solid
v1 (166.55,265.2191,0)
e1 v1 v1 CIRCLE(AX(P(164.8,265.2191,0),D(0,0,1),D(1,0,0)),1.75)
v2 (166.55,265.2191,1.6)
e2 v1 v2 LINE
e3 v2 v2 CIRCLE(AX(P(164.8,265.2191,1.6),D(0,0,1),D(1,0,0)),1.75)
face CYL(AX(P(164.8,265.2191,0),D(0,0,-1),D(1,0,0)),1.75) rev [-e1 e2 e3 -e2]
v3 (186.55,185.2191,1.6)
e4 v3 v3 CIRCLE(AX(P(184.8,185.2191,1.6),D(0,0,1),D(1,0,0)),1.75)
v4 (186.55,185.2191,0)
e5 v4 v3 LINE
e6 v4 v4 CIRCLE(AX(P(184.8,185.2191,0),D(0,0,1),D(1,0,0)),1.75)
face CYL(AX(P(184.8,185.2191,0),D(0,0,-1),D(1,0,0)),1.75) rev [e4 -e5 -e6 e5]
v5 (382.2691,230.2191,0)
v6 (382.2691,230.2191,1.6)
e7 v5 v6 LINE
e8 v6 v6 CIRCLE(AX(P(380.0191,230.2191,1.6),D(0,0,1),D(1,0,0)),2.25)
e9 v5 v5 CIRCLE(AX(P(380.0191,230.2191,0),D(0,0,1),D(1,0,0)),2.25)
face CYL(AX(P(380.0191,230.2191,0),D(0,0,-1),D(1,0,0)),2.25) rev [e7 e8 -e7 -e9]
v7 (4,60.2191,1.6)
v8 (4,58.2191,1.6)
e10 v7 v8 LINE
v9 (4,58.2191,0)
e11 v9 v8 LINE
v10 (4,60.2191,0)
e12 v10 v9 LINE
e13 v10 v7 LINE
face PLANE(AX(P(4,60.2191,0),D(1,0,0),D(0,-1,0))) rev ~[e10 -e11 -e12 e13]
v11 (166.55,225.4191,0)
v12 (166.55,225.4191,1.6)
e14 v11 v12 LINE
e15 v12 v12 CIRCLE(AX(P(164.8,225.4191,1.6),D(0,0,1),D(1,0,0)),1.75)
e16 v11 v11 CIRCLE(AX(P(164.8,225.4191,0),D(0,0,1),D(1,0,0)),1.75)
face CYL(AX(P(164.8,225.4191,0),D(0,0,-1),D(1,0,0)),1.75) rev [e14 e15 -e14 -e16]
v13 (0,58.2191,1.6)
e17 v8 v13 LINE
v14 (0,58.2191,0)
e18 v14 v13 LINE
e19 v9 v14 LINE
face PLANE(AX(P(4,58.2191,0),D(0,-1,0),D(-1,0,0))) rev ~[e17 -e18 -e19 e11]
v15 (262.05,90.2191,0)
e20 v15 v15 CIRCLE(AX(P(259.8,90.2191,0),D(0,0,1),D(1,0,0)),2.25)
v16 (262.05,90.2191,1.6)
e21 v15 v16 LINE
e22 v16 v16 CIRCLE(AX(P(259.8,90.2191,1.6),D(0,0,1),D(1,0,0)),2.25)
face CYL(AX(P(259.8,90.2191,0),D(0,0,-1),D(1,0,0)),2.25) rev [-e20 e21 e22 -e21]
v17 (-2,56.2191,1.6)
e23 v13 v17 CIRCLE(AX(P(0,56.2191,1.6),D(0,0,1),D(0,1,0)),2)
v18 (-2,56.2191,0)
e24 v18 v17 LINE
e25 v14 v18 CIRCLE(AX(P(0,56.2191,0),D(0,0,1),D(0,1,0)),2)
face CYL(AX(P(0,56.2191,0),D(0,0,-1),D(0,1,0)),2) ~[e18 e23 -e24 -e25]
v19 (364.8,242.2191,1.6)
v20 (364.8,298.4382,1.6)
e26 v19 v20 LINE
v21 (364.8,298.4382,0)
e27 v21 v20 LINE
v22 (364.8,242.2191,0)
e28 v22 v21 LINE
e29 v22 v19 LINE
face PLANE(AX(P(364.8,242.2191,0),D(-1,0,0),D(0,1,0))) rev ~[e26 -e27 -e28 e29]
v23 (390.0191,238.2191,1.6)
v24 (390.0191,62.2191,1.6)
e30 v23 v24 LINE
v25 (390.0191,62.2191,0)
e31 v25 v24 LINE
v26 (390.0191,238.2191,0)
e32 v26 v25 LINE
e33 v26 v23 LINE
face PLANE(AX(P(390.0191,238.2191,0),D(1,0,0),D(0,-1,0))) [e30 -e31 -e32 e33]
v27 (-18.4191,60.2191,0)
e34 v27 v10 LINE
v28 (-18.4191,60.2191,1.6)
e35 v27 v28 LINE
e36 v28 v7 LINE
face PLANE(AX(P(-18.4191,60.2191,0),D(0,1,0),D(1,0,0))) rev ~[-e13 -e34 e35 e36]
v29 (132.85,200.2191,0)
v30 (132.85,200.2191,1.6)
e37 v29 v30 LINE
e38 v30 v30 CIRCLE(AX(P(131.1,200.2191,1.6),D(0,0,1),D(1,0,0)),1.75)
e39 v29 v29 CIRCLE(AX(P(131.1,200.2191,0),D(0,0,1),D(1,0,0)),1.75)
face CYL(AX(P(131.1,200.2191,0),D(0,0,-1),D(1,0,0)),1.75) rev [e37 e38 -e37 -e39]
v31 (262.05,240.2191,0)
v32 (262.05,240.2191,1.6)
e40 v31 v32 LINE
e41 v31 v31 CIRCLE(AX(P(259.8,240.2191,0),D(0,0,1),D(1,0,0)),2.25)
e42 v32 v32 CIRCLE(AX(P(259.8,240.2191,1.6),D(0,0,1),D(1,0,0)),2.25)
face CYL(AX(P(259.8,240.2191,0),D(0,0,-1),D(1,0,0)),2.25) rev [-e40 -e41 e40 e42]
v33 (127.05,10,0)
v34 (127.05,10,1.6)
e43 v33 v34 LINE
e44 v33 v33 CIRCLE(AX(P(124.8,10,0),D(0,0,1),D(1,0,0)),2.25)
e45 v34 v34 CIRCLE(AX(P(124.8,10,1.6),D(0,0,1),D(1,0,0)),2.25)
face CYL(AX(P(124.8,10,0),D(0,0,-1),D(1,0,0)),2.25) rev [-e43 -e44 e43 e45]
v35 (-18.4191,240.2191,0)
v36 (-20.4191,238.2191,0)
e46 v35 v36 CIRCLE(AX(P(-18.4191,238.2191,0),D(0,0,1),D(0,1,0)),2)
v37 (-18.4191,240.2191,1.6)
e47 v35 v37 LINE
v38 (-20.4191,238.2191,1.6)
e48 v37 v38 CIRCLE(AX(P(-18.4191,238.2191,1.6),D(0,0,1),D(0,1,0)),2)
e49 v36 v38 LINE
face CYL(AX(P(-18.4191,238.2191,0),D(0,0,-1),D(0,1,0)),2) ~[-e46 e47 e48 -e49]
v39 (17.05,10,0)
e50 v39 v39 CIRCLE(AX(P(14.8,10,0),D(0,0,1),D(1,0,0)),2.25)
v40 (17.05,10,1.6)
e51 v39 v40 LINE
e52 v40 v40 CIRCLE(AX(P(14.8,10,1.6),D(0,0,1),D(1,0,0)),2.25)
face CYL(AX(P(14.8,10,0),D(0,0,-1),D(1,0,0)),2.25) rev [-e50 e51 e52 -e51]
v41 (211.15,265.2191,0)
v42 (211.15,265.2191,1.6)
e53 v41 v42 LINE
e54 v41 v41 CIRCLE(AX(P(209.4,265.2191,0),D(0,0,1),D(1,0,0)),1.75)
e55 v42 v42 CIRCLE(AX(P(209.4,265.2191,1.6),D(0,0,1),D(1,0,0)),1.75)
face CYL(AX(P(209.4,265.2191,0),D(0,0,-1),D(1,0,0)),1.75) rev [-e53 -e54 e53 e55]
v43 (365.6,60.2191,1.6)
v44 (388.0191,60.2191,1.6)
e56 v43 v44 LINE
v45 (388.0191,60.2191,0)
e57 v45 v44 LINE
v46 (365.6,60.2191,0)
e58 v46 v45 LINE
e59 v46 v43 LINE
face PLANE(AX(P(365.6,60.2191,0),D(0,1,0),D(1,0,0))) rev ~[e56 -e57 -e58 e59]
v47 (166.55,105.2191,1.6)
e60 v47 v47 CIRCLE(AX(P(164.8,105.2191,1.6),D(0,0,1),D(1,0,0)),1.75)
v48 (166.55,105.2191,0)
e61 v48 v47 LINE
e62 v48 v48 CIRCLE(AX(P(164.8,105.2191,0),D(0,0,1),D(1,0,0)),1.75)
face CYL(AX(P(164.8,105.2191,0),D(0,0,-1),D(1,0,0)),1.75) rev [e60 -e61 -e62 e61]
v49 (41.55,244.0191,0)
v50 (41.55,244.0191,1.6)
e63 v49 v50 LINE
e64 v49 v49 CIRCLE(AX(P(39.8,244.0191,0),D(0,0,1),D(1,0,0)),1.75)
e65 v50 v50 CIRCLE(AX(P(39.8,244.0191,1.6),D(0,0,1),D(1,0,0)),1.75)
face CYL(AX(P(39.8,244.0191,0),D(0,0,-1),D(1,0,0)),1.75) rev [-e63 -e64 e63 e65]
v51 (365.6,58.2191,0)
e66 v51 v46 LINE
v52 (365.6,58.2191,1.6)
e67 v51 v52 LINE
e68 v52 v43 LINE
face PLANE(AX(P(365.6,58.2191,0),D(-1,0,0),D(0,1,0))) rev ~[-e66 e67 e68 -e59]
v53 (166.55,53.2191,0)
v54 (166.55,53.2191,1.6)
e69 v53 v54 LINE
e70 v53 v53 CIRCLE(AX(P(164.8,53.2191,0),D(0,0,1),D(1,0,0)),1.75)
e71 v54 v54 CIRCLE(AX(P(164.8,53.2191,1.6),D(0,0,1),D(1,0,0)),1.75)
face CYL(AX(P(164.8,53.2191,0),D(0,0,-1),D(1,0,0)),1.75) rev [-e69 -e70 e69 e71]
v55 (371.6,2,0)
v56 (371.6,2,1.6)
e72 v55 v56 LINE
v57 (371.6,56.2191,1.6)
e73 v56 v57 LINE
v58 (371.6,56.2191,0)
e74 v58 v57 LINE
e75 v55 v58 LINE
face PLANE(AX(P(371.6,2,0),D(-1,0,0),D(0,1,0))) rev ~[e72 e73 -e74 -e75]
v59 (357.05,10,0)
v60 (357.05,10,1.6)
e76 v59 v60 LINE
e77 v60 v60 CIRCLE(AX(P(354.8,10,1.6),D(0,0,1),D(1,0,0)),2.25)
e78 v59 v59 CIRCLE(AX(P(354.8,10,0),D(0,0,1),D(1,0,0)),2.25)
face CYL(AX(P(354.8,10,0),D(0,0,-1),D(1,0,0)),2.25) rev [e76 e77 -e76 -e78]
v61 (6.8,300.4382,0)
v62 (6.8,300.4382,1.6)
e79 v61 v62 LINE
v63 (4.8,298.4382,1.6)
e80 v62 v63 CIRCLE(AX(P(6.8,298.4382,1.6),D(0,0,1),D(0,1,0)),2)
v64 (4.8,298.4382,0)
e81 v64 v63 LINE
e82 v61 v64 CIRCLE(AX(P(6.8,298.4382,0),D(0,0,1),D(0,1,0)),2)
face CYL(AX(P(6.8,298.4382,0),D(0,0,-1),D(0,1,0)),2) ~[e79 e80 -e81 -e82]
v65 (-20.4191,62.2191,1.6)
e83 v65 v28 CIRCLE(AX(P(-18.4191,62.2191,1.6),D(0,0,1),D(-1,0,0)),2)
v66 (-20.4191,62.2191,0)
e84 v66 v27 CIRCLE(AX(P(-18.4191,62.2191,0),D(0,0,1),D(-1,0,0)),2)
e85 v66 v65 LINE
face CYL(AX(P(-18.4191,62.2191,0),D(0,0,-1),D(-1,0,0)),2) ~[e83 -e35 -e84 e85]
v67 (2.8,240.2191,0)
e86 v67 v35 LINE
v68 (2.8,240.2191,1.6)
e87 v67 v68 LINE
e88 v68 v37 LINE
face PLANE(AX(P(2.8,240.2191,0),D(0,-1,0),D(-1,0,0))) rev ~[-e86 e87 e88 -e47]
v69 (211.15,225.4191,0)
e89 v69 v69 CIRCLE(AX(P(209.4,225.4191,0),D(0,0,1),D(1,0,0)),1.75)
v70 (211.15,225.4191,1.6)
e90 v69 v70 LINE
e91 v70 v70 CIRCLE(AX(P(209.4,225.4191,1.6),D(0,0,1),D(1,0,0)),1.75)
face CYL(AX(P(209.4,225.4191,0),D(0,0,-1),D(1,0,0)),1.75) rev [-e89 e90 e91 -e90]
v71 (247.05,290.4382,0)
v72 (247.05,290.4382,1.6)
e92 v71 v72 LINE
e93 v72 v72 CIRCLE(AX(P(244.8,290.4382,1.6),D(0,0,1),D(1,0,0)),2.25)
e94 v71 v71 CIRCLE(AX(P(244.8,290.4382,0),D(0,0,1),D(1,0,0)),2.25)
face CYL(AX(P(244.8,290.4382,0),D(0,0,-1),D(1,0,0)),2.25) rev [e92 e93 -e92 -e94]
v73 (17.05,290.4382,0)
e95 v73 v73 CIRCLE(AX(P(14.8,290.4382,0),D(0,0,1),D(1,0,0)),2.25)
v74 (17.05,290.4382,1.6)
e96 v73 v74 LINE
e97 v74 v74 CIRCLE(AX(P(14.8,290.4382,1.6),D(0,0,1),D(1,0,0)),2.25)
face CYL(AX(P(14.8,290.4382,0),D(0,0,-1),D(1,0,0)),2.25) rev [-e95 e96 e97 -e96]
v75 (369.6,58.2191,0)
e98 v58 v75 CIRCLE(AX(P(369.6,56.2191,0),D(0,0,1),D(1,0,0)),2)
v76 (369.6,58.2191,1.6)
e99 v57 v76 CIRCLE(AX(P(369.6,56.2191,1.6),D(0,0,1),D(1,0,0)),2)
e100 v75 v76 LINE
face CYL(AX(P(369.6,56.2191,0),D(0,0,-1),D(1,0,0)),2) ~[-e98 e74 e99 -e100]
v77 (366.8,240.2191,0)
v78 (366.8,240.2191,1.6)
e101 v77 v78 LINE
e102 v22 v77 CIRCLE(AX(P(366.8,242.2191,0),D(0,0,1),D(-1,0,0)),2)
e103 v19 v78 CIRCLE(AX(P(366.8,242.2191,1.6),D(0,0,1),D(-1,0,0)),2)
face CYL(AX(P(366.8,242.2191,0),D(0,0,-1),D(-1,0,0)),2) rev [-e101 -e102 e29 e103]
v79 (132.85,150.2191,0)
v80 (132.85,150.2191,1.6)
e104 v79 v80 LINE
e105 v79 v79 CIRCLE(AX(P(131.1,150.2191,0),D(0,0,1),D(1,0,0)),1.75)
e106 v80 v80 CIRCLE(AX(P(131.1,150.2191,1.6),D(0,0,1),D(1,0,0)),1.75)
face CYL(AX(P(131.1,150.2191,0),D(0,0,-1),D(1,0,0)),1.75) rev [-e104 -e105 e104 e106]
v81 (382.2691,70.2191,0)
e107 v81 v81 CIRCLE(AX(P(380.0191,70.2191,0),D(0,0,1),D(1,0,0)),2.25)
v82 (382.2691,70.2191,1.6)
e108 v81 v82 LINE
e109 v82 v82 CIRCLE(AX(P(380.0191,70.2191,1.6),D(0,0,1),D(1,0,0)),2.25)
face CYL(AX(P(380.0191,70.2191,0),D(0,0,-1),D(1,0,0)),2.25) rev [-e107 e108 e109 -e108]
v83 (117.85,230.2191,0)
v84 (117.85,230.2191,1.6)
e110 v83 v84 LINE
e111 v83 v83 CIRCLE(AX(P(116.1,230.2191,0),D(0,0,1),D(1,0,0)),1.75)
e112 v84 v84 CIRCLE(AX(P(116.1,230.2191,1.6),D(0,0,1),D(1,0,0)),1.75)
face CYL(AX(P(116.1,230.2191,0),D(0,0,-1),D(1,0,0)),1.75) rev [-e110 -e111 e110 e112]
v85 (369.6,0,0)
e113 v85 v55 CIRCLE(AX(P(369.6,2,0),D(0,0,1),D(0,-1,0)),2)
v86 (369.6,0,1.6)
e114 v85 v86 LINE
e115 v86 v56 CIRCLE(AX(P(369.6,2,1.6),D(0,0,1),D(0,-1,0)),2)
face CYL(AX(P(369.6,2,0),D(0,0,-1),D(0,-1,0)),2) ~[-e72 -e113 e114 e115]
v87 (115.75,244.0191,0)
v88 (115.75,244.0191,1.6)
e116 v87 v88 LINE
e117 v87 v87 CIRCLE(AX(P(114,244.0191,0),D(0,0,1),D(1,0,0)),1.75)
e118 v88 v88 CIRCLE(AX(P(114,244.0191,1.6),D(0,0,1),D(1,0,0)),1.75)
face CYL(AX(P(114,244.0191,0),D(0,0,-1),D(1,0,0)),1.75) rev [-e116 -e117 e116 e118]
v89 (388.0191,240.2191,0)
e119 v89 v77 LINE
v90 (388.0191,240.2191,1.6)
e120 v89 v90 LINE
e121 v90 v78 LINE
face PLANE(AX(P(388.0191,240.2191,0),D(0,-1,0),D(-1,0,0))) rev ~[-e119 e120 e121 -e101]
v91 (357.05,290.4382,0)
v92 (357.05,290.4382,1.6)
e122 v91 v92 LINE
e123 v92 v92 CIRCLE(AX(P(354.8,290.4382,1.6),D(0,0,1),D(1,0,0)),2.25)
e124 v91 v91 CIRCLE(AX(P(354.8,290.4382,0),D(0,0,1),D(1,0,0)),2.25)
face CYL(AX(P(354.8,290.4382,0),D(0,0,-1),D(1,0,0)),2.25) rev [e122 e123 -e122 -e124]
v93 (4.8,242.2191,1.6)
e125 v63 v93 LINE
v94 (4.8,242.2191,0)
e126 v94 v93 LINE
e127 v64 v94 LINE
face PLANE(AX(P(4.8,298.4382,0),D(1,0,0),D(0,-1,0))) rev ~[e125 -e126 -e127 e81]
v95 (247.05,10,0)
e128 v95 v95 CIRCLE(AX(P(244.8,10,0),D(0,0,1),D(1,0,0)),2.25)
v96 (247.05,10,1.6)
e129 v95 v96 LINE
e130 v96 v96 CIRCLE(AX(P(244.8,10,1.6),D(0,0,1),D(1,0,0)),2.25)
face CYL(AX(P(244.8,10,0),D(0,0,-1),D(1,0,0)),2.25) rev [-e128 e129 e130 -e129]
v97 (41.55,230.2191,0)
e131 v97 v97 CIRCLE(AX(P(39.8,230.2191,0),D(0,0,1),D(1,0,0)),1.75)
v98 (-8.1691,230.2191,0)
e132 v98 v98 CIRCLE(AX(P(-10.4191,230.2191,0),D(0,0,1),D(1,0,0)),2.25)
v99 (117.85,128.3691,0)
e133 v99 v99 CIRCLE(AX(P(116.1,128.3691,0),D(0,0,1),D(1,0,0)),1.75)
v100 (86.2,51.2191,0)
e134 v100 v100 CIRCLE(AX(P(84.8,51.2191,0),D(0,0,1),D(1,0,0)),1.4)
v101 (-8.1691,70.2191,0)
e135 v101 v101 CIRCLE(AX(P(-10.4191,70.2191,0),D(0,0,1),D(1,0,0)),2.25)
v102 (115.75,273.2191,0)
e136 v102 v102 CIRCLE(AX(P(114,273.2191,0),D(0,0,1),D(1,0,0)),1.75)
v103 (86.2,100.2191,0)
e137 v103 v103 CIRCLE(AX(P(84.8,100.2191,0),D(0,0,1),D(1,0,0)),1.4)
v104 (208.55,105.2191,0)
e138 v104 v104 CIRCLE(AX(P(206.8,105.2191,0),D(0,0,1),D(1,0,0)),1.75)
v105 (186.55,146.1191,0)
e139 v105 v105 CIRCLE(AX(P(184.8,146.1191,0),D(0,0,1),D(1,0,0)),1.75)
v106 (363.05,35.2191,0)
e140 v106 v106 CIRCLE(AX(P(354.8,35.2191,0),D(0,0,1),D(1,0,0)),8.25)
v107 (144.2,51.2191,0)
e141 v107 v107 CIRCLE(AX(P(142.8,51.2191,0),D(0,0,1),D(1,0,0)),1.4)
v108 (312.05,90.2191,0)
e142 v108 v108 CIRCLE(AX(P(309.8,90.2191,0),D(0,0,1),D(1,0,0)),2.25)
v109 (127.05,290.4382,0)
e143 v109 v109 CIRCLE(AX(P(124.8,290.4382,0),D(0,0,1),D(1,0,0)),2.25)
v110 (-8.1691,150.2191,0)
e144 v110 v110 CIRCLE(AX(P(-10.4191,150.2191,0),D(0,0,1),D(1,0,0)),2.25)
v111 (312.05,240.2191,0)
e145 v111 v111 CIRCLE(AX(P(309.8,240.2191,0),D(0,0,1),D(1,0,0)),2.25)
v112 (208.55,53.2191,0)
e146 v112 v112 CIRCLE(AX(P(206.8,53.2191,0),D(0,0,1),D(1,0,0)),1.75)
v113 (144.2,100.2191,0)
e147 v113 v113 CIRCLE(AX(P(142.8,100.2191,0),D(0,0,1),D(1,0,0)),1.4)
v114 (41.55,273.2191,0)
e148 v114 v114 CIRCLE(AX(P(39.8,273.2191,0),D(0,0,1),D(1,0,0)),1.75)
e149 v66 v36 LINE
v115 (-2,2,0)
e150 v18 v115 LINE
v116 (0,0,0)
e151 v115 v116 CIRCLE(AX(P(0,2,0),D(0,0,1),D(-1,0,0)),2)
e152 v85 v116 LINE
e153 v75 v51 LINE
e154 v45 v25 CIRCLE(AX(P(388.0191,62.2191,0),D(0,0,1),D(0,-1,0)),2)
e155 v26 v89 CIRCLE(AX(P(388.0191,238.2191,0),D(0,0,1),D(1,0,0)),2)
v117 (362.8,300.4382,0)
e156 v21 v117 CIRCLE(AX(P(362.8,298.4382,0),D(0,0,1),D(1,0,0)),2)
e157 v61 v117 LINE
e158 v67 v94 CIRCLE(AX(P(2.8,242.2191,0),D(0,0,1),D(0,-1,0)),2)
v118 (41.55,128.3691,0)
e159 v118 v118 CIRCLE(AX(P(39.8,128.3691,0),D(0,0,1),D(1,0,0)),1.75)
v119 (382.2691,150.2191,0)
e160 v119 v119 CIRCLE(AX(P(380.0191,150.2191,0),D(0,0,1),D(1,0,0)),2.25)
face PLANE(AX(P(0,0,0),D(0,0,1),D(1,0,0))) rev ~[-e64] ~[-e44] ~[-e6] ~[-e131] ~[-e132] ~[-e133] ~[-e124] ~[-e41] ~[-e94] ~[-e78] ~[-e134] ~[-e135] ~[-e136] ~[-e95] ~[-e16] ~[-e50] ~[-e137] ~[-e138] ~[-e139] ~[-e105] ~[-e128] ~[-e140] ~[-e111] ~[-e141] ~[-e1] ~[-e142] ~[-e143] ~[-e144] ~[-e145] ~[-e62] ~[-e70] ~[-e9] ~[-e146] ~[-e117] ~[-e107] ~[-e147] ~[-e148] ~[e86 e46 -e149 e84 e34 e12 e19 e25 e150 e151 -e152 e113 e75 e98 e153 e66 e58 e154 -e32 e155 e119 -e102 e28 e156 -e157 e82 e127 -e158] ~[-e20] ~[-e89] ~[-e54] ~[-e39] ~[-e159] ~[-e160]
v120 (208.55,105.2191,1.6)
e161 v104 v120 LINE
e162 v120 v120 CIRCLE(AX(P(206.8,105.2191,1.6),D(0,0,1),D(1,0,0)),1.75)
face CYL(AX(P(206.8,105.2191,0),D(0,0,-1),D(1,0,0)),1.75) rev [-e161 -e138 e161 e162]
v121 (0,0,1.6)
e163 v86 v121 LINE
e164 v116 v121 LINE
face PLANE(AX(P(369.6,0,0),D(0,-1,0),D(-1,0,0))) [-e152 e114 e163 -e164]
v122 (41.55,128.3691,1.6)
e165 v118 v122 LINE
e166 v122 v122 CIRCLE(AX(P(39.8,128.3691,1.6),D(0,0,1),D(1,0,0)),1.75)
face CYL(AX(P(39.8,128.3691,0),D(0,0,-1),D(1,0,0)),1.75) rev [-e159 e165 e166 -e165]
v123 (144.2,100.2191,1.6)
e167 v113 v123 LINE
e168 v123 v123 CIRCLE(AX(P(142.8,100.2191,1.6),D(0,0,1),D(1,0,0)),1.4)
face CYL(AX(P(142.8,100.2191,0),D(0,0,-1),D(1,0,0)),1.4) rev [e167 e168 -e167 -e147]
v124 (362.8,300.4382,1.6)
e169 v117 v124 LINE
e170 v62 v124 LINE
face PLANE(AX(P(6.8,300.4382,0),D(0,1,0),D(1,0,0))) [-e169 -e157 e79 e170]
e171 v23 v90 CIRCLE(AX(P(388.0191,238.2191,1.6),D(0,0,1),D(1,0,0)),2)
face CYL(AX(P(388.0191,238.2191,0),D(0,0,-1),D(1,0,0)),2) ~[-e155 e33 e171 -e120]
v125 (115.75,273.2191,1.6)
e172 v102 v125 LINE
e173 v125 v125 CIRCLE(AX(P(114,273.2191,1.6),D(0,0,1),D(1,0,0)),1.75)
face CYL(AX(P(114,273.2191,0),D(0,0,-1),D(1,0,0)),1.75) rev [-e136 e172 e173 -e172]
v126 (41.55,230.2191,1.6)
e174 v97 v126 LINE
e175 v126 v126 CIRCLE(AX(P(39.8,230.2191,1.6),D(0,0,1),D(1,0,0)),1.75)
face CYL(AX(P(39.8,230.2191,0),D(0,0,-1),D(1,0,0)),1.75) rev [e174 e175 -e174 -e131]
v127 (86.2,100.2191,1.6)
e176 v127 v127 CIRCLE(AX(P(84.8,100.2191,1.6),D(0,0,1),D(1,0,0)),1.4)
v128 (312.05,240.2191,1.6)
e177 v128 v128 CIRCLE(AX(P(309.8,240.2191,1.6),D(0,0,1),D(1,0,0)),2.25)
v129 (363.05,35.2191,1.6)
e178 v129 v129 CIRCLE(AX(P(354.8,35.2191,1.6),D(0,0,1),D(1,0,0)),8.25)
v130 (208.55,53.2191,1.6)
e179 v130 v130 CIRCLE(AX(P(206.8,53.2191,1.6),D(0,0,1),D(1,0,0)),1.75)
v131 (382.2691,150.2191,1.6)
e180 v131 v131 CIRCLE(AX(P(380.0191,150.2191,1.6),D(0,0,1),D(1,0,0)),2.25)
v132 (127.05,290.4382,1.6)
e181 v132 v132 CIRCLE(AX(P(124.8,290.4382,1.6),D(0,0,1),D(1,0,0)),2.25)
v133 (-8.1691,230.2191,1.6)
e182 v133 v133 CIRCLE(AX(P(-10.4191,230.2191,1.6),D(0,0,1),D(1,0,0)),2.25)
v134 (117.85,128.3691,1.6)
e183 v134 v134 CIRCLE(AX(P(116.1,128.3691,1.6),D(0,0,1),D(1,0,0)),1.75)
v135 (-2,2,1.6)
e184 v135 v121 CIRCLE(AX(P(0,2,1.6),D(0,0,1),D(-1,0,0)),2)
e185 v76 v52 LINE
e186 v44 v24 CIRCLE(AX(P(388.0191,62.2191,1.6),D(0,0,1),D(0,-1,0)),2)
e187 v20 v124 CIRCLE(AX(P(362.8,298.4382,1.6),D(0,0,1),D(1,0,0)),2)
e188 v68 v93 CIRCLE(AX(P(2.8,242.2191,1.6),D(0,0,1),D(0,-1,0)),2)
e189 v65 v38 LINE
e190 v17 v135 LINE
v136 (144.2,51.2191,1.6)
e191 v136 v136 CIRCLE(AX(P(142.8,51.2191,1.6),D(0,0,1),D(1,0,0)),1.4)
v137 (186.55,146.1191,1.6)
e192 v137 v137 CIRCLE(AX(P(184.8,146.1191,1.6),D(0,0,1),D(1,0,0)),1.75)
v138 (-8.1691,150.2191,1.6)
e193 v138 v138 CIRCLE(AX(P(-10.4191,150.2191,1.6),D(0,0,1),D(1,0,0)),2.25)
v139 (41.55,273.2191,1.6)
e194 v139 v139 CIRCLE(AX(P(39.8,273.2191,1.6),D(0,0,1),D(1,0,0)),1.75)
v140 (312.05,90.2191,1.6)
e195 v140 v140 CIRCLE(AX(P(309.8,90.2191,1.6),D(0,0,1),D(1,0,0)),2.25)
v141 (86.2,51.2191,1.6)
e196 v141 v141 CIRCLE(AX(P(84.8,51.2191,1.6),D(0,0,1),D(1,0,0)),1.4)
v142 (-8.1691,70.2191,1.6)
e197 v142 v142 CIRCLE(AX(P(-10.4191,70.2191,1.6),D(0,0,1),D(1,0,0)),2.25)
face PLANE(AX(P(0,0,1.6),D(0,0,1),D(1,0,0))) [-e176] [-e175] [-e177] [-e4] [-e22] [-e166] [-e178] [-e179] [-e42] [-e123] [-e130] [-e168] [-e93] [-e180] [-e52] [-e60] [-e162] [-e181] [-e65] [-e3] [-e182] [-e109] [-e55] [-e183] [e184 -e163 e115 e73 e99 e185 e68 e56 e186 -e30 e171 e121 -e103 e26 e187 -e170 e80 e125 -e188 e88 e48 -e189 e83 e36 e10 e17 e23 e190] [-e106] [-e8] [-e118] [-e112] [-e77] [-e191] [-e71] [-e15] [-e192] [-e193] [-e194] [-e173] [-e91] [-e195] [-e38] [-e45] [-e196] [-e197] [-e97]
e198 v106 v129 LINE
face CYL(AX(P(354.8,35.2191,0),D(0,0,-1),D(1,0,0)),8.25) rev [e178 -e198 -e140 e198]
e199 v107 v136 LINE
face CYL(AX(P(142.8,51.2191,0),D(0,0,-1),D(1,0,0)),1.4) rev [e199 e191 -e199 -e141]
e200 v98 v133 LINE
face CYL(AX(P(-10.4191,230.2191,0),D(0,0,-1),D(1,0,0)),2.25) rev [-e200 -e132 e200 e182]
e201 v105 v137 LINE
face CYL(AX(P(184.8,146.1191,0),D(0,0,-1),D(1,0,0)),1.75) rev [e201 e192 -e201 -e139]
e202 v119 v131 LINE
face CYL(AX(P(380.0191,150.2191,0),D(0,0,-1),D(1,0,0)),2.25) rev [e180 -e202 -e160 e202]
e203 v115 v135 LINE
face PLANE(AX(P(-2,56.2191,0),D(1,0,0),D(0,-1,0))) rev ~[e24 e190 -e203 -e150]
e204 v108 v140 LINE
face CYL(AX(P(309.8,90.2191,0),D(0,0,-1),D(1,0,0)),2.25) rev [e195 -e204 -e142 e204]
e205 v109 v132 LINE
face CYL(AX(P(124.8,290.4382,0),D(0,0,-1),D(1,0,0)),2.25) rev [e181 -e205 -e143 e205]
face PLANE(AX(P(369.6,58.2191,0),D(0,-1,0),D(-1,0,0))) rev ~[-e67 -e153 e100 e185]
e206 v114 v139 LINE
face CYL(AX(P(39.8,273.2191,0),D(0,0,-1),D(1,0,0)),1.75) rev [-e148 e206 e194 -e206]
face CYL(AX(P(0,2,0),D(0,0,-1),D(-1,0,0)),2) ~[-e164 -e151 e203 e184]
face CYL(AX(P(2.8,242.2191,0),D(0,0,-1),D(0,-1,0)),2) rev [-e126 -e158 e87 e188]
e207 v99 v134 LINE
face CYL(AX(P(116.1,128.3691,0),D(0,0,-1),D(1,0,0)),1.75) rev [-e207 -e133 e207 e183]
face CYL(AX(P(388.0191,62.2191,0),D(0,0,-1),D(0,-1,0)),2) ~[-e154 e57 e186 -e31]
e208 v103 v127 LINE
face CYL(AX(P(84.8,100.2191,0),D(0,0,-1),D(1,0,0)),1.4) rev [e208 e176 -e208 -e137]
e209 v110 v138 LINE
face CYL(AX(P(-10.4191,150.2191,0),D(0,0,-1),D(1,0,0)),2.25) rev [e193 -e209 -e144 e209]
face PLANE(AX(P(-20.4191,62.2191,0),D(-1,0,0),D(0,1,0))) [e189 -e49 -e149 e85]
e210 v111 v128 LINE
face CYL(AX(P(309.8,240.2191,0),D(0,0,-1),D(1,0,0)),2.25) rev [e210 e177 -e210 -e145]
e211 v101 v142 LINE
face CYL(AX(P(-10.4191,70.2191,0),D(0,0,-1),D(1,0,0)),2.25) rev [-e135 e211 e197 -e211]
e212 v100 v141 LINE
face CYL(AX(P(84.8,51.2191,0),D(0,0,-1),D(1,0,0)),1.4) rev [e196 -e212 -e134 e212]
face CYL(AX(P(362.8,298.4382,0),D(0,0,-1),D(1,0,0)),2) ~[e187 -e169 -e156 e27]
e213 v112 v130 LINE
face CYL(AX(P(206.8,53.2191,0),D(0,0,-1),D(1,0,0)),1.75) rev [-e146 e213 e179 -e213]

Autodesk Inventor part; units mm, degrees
ref_plane "YZ Plane" through (0, 0, 0) normal (1, 0, 0) x (0, 1, 0)
ref_plane "XZ Plane" through (0, 0, 0) normal (0, 1, 0) x (-1, 0, 0)
ref_plane "XY Plane" through (0, 0, 0) normal (0, 0, 1) x (1, 0, 0)
sketch "スケッチ1" plane through (0, 0, 0) normal (0, 0, 1) x (1, 0, 0)
  circle A0 centre (380.0191, 230.2191) radius 2.25
  circle A1 centre (380.0191, 70.2191) radius 2.25
  circle A2 centre (380.0191, 150.2191) radius 2.25
  circle A3 centre (124.8, 290.4382) radius 2.25
  circle A4 centre (14.8, 290.4382) radius 2.25
  circle A5 centre (354.8, 290.4382) radius 2.25
  circle A6 centre (244.8, 290.4382) radius 2.25
  circle A7 centre (259.8, 240.2191) radius 2.25
  circle A8 centre (259.8, 90.2191) radius 2.25
  circle A9 centre (309.8, 90.2191) radius 2.25
  circle A10 centre (309.8, 240.2191) radius 2.25
  circle A11 centre (116.1, 128.3691) radius 1.75
  circle A12 centre (39.8, 230.2191) radius 1.75
  circle A13 centre (116.1, 230.2191) radius 1.75
  circle A14 centre (39.8, 128.3691) radius 1.75
  circle A15 centre (131.1, 150.2191) radius 1.75
  circle A16 centre (131.1, 200.2191) radius 1.75
  circle A17 centre (164.8, 105.2191) radius 1.75
  circle A18 centre (206.8, 53.2191) radius 1.75
  circle A19 centre (206.8, 105.2191) radius 1.75
  circle A20 centre (164.8, 53.2191) radius 1.75
  circle A21 centre (209.4, 265.2191) radius 1.75
  circle A22 centre (164.8, 225.4191) radius 1.75
  circle A23 centre (164.8, 265.2191) radius 1.75
  circle A24 centre (209.4, 225.4191) radius 1.75
  circle A25 centre (84.8, 51.2191) radius 1.4
  circle A26 centre (142.8, 51.2191) radius 1.4
  circle A27 centre (142.8, 100.2191) radius 1.4
  circle A28 centre (84.8, 100.2191) radius 1.4
  circle A29 centre (39.8, 273.2191) radius 1.75
  circle A30 centre (114, 244.0191) radius 1.75
  circle A31 centre (114, 273.2191) radius 1.75
  circle A32 centre (39.8, 244.0191) radius 1.75
  circle A33 centre (184.8, 146.1191) radius 1.75
  circle A34 centre (184.8, 185.2191) radius 1.75
  circle A35 centre (354.8, 35.2191) radius 8.25
  circle A36 centre (-10.4191, 150.2191) radius 2.25
  circle A37 centre (-10.4191, 70.2191) radius 2.25
  circle A38 centre (-10.4191, 230.2191) radius 2.25
  circle A39 centre (244.8, 10) radius 2.25
  circle A40 centre (354.8, 10) radius 2.25
  circle A41 centre (14.8, 10) radius 2.25
  circle A42 centre (124.8, 10) radius 2.25
  arc A43 (-2, 2) -> (0, 0) centre (0, 2) ccw
  line L0 (369.6, 0) -> (0, 0)
  arc A44 (369.6, 0) -> (371.6, 2) centre (369.6, 2) ccw
  line L1 (371.6, 2) -> (371.6, 56.2191)
  arc A45 (371.6, 56.2191) -> (369.6, 58.2191) centre (369.6, 56.2191) ccw
  line L2 (369.6, 58.2191) -> (365.6, 58.2191)
  line L3 (365.6, 58.2191) -> (365.6, 60.2191)
  line L4 (365.6, 60.2191) -> (388.0191, 60.2191)
  arc A46 (388.0191, 60.2191) -> (390.0191, 62.2191) centre (388.0191, 62.2191) ccw
  line L5 (390.0191, 238.2191) -> (390.0191, 62.2191)
  arc A47 (390.0191, 238.2191) -> (388.0191, 240.2191) centre (388.0191, 238.2191) ccw
  line L6 (388.0191, 240.2191) -> (366.8, 240.2191)
  arc A48 (364.8, 242.2191) -> (366.8, 240.2191) centre (366.8, 242.2191) ccw
  line L7 (364.8, 242.2191) -> (364.8, 298.4382)
  arc A49 (364.8, 298.4382) -> (362.8, 300.4382) centre (362.8, 298.4382) ccw
  line L8 (6.8, 300.4382) -> (362.8, 300.4382)
  arc A50 (6.8, 300.4382) -> (4.8, 298.4382) centre (6.8, 298.4382) ccw
  line L9 (4.8, 298.4382) -> (4.8, 242.2191)
  arc A51 (2.8, 240.2191) -> (4.8, 242.2191) centre (2.8, 242.2191) ccw
  line L10 (2.8, 240.2191) -> (-18.4191, 240.2191)
  arc A52 (-18.4191, 240.2191) -> (-20.4191, 238.2191) centre (-18.4191, 238.2191) ccw
  line L11 (-20.4191, 62.2191) -> (-20.4191, 238.2191)
  arc A53 (-20.4191, 62.2191) -> (-18.4191, 60.2191) centre (-18.4191, 62.2191) ccw
  line L12 (-18.4191, 60.2191) -> (4, 60.2191)
  line L13 (4, 60.2191) -> (4, 58.2191)
  line L14 (4, 58.2191) -> (0, 58.2191)
  arc A54 (0, 58.2191) -> (-2, 56.2191) centre (0, 56.2191) ccw
  line L15 (-2, 56.2191) -> (-2, 2)
extrude "押し出し1" add sketch "スケッチ1" along normal blind 1.6
properties part number "Board_Mount_Flat"
